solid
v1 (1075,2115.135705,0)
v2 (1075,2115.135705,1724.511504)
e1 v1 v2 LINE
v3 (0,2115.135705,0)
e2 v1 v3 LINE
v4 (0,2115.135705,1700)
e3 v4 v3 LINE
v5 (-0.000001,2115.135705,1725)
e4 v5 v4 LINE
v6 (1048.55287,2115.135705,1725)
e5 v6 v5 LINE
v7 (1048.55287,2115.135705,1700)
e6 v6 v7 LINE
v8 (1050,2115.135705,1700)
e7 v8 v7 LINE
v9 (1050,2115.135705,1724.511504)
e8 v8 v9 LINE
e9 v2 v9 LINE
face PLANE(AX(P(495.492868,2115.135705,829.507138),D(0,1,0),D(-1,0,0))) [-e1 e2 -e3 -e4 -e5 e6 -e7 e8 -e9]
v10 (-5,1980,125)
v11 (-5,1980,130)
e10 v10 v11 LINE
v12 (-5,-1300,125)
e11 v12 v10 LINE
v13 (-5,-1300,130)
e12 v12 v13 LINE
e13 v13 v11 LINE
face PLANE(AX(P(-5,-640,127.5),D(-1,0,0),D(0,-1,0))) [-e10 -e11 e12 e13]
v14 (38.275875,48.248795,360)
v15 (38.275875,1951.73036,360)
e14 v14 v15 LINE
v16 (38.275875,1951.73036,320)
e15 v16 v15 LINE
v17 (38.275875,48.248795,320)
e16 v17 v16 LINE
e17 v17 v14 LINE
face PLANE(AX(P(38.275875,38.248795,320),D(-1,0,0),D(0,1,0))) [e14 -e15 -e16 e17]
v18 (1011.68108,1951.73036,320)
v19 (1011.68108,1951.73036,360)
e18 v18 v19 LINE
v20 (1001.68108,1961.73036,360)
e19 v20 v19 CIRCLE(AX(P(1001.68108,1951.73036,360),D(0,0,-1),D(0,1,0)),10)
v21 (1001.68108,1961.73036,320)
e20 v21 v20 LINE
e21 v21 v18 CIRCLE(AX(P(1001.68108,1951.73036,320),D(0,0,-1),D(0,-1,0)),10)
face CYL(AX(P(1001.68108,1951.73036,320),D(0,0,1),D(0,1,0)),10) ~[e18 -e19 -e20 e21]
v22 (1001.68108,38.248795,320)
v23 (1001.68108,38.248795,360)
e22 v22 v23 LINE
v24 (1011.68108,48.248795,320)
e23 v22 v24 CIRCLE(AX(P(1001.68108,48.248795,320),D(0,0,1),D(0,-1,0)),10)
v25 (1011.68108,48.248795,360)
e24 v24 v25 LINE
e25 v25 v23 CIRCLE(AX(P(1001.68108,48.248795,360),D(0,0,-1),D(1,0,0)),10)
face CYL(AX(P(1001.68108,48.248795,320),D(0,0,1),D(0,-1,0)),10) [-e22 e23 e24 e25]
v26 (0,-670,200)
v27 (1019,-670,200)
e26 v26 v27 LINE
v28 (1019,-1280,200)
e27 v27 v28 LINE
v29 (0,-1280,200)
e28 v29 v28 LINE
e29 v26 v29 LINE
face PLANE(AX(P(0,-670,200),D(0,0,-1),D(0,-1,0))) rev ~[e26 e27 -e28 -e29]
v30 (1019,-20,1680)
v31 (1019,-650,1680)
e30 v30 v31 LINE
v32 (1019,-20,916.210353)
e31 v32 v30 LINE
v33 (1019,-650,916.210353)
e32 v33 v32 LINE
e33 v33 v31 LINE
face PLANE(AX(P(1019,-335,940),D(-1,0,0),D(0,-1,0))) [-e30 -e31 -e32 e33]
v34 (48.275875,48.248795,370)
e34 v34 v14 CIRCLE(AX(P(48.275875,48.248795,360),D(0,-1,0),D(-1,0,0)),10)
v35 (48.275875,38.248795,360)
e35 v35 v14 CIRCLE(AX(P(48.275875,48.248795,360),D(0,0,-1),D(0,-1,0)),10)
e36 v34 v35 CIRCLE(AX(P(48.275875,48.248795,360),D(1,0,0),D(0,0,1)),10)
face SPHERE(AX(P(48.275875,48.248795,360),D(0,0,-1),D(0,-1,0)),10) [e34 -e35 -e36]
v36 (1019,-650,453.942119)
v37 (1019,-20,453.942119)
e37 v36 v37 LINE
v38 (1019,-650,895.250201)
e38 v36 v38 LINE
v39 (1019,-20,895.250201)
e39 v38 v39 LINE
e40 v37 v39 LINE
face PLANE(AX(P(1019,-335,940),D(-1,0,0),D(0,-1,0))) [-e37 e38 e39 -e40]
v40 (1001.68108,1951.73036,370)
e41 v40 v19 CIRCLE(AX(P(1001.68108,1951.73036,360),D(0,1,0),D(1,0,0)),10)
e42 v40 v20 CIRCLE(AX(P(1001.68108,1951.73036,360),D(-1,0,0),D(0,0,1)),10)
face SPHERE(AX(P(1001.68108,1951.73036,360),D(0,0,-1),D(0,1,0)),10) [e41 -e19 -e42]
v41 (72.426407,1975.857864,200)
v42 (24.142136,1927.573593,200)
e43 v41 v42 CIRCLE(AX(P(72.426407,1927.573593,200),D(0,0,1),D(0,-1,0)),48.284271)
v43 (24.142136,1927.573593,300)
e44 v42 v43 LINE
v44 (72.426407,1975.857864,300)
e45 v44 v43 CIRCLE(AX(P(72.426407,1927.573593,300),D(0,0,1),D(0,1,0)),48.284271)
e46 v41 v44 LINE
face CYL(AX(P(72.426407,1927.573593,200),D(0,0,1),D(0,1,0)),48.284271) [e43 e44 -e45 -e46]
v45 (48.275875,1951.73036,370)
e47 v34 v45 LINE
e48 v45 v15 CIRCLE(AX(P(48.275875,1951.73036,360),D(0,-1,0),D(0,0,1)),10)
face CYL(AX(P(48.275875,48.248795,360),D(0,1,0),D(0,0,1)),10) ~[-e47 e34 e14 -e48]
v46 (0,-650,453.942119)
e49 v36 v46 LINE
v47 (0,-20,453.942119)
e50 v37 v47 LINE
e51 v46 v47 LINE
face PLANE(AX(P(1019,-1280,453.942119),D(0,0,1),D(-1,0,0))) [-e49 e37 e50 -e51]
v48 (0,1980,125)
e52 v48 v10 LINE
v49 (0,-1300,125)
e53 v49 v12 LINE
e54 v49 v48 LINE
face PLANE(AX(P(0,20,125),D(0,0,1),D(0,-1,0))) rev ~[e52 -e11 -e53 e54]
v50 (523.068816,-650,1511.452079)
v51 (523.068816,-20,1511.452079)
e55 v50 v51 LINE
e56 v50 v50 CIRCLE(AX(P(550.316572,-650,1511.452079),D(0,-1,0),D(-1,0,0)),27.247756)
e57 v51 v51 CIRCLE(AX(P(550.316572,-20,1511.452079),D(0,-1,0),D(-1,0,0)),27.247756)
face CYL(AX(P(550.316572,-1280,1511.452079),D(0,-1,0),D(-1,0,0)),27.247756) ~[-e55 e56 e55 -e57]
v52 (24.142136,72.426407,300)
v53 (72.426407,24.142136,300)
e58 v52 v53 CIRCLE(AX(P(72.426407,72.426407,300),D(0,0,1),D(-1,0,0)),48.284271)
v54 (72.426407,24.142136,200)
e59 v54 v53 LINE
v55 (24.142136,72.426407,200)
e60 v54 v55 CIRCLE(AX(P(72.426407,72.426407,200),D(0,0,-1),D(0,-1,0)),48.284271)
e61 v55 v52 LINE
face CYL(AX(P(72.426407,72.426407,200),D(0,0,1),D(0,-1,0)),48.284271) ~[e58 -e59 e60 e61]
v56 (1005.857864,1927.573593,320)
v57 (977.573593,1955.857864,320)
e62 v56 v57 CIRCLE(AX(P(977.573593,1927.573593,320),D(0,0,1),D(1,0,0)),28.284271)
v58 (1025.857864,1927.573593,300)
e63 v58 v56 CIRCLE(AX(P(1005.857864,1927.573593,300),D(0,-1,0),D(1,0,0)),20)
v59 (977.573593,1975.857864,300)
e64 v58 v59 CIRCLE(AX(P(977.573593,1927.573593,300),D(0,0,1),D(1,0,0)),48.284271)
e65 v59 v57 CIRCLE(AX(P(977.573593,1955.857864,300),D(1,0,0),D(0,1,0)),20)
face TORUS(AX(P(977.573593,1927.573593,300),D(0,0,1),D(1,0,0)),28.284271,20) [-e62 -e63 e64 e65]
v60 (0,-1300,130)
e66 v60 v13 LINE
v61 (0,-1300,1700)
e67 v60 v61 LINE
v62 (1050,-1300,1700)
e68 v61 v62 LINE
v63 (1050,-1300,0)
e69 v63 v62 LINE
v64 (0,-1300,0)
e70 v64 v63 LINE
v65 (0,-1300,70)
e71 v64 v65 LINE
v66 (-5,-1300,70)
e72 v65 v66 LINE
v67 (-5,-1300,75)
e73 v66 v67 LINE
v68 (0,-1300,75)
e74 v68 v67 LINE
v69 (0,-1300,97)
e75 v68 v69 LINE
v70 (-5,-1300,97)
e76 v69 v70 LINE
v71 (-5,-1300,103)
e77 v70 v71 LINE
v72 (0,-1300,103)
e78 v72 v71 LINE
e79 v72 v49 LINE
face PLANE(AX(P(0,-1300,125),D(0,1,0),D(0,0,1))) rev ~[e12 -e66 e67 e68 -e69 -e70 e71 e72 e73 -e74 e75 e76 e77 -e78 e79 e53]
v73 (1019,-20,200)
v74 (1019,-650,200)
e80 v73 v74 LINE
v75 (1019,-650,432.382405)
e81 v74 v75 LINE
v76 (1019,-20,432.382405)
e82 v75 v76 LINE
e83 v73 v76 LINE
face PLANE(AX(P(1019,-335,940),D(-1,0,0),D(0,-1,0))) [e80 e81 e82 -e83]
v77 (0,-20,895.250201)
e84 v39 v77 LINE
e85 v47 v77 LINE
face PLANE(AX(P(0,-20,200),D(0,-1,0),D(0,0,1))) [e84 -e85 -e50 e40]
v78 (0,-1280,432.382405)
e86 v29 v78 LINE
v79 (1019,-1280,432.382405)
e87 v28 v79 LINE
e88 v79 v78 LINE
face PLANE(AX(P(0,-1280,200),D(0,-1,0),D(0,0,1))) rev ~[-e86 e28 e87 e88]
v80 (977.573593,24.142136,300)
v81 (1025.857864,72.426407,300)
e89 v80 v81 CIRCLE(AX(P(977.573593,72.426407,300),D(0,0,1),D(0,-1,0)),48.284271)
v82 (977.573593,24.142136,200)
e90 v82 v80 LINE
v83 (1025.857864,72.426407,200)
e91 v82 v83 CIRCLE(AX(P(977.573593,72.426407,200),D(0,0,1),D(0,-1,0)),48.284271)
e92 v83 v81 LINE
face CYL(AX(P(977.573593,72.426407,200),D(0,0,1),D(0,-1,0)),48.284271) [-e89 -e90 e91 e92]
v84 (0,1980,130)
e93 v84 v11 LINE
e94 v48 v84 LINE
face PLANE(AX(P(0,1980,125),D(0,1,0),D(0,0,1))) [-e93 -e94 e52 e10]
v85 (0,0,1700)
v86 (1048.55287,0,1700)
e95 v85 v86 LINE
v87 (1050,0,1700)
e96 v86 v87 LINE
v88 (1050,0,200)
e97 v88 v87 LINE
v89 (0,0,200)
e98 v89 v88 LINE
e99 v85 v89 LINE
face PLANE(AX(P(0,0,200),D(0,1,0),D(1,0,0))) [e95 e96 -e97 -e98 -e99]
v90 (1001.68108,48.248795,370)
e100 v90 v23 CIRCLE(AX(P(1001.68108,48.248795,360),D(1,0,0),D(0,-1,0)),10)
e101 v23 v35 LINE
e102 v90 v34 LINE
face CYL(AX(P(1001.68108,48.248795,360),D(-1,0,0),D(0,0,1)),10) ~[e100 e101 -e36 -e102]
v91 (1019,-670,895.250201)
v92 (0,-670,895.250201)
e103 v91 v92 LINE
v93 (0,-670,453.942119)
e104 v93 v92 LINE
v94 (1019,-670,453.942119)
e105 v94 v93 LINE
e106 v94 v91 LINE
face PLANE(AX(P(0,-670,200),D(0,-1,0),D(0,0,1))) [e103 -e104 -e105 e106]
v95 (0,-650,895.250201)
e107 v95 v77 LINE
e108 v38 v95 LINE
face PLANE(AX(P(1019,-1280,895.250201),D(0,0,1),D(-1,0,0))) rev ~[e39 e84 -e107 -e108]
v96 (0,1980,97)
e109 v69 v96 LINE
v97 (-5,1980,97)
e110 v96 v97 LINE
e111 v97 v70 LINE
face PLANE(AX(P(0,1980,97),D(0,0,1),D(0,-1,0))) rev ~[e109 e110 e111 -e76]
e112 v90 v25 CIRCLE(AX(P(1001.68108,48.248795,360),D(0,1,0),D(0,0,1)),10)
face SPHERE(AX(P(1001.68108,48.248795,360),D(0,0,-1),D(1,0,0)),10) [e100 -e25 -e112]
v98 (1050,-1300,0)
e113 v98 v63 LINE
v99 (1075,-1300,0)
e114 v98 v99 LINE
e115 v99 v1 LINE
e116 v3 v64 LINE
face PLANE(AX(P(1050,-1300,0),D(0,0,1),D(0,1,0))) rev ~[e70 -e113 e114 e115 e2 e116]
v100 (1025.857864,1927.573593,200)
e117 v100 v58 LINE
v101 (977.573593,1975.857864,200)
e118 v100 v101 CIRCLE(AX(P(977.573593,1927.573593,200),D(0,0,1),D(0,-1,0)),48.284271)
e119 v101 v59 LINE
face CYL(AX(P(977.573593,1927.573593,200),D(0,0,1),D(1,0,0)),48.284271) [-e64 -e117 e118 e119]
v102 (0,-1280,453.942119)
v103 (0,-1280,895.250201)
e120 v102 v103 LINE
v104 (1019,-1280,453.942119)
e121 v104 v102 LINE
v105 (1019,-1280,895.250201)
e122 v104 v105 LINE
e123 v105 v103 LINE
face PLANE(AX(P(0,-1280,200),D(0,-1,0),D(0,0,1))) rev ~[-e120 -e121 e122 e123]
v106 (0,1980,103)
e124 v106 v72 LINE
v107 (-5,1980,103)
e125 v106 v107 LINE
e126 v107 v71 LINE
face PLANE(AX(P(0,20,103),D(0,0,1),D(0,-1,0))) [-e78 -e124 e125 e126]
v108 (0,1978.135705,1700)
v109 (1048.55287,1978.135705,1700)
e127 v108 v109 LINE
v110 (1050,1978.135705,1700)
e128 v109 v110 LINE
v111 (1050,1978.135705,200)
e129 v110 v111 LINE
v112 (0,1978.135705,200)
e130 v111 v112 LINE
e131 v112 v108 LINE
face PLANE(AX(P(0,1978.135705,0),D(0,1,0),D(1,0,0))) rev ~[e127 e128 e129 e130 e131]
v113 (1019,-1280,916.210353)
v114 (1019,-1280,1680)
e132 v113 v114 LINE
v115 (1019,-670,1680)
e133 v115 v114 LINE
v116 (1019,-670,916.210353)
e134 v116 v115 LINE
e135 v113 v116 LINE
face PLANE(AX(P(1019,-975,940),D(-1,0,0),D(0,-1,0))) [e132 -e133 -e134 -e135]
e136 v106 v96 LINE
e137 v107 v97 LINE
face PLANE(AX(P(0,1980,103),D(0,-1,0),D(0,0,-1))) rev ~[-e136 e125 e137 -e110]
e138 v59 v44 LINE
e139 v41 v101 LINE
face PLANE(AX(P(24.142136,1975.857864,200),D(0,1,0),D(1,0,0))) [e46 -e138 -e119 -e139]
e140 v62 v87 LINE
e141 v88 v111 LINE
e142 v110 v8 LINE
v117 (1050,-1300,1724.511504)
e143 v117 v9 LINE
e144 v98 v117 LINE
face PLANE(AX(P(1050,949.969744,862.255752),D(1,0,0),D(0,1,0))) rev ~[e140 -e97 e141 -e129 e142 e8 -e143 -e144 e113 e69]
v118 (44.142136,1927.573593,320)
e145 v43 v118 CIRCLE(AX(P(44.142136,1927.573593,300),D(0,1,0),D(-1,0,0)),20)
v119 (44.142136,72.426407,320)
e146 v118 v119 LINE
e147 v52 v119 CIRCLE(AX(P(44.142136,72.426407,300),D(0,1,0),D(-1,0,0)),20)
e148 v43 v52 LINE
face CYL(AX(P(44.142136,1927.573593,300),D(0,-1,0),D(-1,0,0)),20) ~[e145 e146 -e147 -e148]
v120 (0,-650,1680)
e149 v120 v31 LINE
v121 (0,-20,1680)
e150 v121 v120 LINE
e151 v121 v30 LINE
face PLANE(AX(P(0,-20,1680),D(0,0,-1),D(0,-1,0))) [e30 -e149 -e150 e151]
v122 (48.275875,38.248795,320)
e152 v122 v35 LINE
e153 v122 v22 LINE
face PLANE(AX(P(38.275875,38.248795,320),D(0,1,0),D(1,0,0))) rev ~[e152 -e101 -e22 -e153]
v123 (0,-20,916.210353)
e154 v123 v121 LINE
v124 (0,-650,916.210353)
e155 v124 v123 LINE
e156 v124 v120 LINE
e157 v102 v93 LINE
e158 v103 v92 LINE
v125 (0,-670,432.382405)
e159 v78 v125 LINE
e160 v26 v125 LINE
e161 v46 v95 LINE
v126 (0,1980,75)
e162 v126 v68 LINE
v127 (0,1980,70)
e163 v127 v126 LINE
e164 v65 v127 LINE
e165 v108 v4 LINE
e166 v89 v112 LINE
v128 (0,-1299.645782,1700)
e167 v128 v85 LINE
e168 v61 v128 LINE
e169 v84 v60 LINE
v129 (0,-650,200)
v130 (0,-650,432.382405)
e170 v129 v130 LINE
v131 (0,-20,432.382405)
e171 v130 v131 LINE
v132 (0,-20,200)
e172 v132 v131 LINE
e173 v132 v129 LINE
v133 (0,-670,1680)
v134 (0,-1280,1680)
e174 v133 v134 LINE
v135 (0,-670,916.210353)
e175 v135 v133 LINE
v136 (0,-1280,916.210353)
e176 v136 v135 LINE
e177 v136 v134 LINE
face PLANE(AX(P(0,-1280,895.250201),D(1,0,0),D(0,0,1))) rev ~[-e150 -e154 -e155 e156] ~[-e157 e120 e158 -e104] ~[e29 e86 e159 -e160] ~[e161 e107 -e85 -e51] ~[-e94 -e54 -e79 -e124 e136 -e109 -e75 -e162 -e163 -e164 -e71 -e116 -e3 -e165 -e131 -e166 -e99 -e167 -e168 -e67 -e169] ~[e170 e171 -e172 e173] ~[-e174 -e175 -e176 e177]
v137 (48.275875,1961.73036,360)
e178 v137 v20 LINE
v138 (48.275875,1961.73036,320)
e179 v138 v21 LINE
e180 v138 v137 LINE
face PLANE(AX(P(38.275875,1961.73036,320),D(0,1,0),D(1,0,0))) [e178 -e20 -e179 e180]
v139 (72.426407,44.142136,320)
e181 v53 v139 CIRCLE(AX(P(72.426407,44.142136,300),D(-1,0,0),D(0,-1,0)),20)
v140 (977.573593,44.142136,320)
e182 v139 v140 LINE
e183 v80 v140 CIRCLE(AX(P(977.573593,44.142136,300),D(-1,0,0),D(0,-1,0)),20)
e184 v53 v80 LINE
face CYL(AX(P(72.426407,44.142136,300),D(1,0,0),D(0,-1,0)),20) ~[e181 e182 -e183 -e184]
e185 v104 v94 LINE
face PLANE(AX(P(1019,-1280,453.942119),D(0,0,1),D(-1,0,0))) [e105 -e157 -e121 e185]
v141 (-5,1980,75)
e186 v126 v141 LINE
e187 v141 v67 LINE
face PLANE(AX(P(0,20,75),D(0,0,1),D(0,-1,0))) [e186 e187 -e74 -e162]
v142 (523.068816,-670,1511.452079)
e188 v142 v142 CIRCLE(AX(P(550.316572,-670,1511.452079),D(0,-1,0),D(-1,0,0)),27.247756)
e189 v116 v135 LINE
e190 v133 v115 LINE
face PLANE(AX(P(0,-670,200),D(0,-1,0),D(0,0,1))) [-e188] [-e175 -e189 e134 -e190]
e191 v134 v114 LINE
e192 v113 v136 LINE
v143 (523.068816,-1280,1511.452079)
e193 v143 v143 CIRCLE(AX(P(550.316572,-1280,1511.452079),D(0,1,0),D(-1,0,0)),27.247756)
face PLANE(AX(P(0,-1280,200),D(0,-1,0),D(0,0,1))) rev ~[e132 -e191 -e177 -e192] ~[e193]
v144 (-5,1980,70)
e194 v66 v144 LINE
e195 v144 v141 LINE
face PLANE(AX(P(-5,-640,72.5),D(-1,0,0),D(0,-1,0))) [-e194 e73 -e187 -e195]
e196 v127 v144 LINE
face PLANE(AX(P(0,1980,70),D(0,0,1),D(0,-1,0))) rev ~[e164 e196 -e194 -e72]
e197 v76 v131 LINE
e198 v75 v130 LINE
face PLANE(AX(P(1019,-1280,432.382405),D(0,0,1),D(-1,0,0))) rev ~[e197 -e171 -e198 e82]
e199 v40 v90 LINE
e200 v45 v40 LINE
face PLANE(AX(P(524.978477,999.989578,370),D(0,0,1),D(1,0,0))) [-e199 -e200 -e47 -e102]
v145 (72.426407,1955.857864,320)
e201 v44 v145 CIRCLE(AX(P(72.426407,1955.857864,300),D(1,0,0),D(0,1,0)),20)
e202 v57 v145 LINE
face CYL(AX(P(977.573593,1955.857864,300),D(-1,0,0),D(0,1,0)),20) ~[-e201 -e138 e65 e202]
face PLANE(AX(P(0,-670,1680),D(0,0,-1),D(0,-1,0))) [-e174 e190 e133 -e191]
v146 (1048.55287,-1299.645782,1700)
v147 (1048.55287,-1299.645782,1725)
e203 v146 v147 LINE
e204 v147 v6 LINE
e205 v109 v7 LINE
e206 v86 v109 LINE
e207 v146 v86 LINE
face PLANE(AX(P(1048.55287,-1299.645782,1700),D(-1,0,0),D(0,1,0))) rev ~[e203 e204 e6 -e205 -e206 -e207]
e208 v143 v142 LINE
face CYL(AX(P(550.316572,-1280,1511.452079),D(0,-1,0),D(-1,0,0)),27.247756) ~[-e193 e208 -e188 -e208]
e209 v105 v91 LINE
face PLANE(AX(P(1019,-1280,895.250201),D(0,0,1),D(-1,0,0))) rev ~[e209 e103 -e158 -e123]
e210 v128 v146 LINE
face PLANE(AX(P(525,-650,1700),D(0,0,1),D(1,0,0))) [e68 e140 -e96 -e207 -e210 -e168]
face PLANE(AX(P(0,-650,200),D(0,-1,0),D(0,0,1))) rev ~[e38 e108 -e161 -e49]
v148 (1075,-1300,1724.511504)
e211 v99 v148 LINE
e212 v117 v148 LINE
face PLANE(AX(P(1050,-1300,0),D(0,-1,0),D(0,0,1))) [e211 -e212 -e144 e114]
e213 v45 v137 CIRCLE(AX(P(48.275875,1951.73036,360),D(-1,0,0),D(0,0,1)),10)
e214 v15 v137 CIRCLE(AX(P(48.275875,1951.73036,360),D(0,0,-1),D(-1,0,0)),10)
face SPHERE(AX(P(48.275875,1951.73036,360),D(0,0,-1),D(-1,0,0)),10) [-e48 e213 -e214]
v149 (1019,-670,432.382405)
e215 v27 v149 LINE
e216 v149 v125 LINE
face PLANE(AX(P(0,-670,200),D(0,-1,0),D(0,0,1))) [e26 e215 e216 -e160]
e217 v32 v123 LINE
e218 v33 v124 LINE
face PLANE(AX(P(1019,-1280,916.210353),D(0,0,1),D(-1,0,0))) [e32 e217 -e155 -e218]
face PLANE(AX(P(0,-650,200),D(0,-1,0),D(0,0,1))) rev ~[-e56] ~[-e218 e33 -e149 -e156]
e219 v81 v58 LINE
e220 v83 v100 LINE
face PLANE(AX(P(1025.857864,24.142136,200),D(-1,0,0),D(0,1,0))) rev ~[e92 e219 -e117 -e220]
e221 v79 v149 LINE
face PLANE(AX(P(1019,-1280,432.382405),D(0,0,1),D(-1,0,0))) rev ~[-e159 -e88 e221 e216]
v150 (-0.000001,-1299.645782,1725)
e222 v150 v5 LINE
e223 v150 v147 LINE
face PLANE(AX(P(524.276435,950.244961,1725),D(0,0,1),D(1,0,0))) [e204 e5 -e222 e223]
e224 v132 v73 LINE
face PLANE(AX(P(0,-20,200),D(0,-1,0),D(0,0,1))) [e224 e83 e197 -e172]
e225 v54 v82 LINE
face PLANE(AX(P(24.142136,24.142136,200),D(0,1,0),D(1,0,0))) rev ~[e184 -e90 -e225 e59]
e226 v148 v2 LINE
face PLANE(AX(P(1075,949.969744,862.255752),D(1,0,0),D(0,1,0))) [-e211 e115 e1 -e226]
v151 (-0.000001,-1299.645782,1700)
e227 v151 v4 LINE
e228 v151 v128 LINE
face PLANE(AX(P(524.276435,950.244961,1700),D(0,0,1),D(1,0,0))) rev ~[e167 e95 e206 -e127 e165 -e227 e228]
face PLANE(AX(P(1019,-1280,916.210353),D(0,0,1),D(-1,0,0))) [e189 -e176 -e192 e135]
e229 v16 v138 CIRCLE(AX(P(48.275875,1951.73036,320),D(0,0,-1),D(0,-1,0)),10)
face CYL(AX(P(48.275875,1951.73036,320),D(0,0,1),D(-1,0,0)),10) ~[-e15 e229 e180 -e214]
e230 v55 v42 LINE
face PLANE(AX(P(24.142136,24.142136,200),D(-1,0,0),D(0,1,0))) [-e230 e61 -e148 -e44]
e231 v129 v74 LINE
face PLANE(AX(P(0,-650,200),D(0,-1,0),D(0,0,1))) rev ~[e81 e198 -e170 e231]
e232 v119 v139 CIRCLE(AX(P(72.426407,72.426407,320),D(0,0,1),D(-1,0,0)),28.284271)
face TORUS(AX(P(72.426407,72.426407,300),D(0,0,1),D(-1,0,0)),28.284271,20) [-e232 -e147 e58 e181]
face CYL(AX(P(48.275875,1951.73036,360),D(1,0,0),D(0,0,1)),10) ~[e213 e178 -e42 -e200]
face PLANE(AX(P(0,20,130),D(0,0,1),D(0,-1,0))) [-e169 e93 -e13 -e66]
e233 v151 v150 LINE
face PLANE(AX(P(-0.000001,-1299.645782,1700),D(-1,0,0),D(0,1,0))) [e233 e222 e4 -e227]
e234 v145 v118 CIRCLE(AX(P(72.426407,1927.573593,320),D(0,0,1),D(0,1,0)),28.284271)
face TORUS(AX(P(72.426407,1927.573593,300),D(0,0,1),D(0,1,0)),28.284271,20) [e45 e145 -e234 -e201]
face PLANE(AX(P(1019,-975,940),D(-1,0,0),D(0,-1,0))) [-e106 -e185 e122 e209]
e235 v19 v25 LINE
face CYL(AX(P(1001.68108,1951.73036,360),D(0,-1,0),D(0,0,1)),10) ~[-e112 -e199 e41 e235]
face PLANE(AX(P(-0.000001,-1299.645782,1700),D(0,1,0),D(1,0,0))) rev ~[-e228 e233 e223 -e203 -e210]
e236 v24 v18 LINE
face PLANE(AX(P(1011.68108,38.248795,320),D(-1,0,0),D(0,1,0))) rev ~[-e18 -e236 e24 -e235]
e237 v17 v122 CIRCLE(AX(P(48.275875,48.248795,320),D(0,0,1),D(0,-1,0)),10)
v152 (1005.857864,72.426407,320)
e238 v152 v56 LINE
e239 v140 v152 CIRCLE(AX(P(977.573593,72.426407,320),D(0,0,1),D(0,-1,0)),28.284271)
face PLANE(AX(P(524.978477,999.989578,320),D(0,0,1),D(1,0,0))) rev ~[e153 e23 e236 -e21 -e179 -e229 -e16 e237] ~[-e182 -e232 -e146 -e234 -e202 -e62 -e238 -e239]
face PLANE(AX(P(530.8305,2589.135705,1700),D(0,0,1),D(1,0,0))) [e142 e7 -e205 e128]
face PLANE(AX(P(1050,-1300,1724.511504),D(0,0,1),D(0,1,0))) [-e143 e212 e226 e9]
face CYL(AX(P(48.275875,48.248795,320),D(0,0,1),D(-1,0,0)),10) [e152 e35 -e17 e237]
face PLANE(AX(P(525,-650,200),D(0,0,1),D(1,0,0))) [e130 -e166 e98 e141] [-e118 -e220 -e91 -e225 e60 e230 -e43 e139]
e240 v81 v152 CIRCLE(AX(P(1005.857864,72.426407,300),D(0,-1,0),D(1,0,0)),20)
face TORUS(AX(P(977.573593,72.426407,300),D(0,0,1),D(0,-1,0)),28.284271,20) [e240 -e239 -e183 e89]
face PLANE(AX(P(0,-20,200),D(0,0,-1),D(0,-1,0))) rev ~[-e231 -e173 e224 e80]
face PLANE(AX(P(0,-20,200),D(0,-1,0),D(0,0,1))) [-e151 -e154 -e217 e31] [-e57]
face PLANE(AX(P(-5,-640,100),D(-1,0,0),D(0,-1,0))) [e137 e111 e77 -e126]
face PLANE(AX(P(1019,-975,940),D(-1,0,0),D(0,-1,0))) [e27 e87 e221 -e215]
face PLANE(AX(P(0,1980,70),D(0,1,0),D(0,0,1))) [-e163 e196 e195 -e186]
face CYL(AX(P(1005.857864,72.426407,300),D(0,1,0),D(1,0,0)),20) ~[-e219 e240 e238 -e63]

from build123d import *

# Parameters (mm, degrees)
F0_W      = 1050
F0_H      = 2000
F1_DEPTH  = 200
F2_SIZE   = 20
F3_W      = 1001.715728
F3_H      = 1951.715728
F4_DEPTH  = 120
F5_R      = 48.284271
F6_R      = 20
F7_W      = 973.405205
F7_H      = 1923.481565
F8_DEPTH  = 50
F9_R      = 10
F10_R     = 10
F11_W     = 1960
F11_H     = 5
F11_H_2   = 3
F12_DEPTH = 5
F13_W     = 1050
F13_H     = 1300
F14_DEPTH = 200
F15_W     = 1050
F15_H     = 1300
F16_DEPTH = 1500
F17_W     = 610
F17_H     = 1480
F17_W_2   = 630
F18_DEPTH = 1019
F19_W     = 1320
F19_H     = 5
F19_H_2   = 6
F20_DEPTH = 5
F21_W     = 1061.661
F21_H     = 1222
F22_DEPTH = 1700
F23_W     = 35.6673
F23_H     = 1700
F23_W_2   = 39.648295
F24_DEPTH = 95
F25_R     = 17.675131
F25_R_2   = 26.491418
F25_R_3   = 28.49172
F25_R_4   = 25.461441
F25_R_5   = 22.122268
F25_R_6   = 26.790347
F25_R_7   = 26.844984
F25_R_8   = 29.855992
F25_R_9   = 34.523428
F25_R_10  = 18.483208
F25_R_11  = 24.436563
F25_R_12  = 26.49164
F25_R_13  = 18.371691
F25_R_14  = 19.135028
F25_R_15  = 20
F26_DEPTH = 365
F27_W     = 1048.552871
F27_H     = 4499.781487
F28_DEPTH = 25
F29_W     = 4499.939489
F29_H     = 1724.511504
F30_DEPTH = 25
F31_W     = 1255.993739
F31_H     = 1847.933241
F32_DEPTH = 1180
F33_R     = 27.247756
F34_DEPTH = 1280
F35_W     = 1019
F35_H     = 21.559715
F36_DEPTH = 1272
F37_W     = 1019
F37_H     = 20.960152
F38_DEPTH = 1280


with BuildPart() as f1:
    # F0 (on Top) → F1 (new body)
    with BuildSketch(Plane.XY):
        with Locations((525, 1000)):
            Rectangle(F0_W, F0_H)
    extrude(amount=F1_DEPTH)

    # F2
    f2_edges = [f1.edges().sort_by_distance(p)[0] for p in [
        (1050, 2000, 100),
        (0, 2000, 100),
    ]]
    chamfer(f2_edges, length=F2_SIZE)

    # F3 (on face) → F4 (join)
    with BuildSketch(Plane.XY.offset(200)):
        with Locations((525, 1000)):
            Rectangle(F3_W, F3_H)
    extrude(amount=F4_DEPTH)

    # F5
    f5_edges = [f1.edges().sort_by_distance(p)[0] for p in [
        (1025.857864, 24.142136, 260),
        (1025.857864, 1975.857864, 260),
        (24.142136, 1975.857864, 260),
        (24.142136, 24.142136, 260),
    ]]
    fillet(f5_edges, radius=F5_R)

    # F6
    f6_edges = [f1.edges().sort_by_distance(p)[0] for p in [
        (525, 24.142136, 320),
        (38.284271, 38.284271, 320),
        (1011.715729, 38.284271, 320),
        (24.142136, 1000, 320),
        (1025.857864, 1000, 320),
        (38.284271, 1961.715729, 320),
        (1011.715729, 1961.715729, 320),
        (525, 1975.857864, 320),
    ]]
    fillet(f6_edges, radius=F6_R)

    # F7 (on face) → F8 (join)
    with BuildSketch(Plane.XY.offset(320)):
        with Locations((524.978477, 999.989578)):
            Rectangle(F7_W, F7_H)
    extrude(amount=F8_DEPTH)

    # F9
    f9_edges = [f1.edges().sort_by_distance(p)[0] for p in [
        (1011.68108, 38.248796, 345),
        (1011.68108, 1961.730361, 345),
        (38.275875, 1961.730361, 345),
        (38.275875, 38.248796, 345),
    ]]
    fillet(f9_edges, radius=F9_R)

    # F10
    f10_edges = [f1.edges().sort_by_distance(p)[0] for p in [
        (524.978478, 1961.730361, 370),
        (1008.752148, 1958.801429, 370),
        (41.204807, 1958.801429, 370),
        (1011.68108, 999.989579, 370),
        (38.275875, 999.989579, 370),
        (1008.752148, 41.177728, 370),
        (41.204807, 41.177728, 370),
        (524.978478, 38.248796, 370),
    ]]
    fillet(f10_edges, radius=F10_R)

    # F11 (on face) → F12 (join)
    with BuildSketch(Plane(origin=(0, 0, 0), x_dir=(0, -1, 0), z_dir=(-1, 0, 0))):
        with Locations((-1000, 72.5)):
            Rectangle(F11_W, F11_H)
        with Locations((-1000, 127.5)):
            Rectangle(F11_W, F11_H)
        with Locations((-1000, 98.5)):
            Rectangle(F11_W, F11_H_2)
        with Locations((-1000, 101.5)):
            Rectangle(F11_W, F11_H_2)
    extrude(amount=F12_DEPTH)

    # F13 (on Top) → F14 (join)
    with BuildSketch(Plane.XY):
        with Locations((525, -650)):
            Rectangle(F13_W, F13_H)
    extrude(amount=F14_DEPTH)

    # F15 (on face) → F16 (join)
    with BuildSketch(Plane.XY.offset(200)):
        with Locations((525, -650)):
            Rectangle(F15_W, F15_H)
    extrude(amount=F16_DEPTH)

    # F17 (on face) → F18 (cut)
    with BuildSketch(Plane(origin=(0, 0, 0), x_dir=(0, -1, 0), z_dir=(-1, 0, 0))):
        with Locations((975, 940)):
            Rectangle(F17_W, F17_H)
        with Locations((335, 940)):
            Rectangle(F17_W_2, F17_H)
    extrude(amount=-F18_DEPTH, mode=Mode.SUBTRACT)

    # F19 (on face) → F20 (join)
    with BuildSketch(Plane(origin=(0, 0, 0), x_dir=(0, -1, 0), z_dir=(-1, 0, 0))):
        with Locations((640, 127.5)):
            Rectangle(F19_W, F19_H)
        with Locations((640, 100)):
            Rectangle(F19_W, F19_H_2)
        with Locations((640, 72.5)):
            Rectangle(F19_W, F19_H)
    extrude(amount=F20_DEPTH)

    # F21 (on Top) → F22 (join)
    with BuildSketch(Plane.XY):
        with Locations((530.8305, 2589.135705)):
            Rectangle(F21_W, F21_H)
    extrude(amount=F22_DEPTH)

    # F23 (on face) → F24 (join)
    with BuildSketch(Plane(origin=(0, 3200.135705, 0), x_dir=(-1, 0, 0), z_dir=(0, 1, 0))):
        with Locations((-305.102706, 850)):
            Rectangle(F23_W, F23_H)
        with Locations((-695.655286, 850)):
            Rectangle(F23_W_2, F23_H)
    extrude(amount=F24_DEPTH)

    # F25 (on face) → F26 (join)
    with BuildSketch(Plane(origin=(675.831139, 0, 0), x_dir=(0, -1, 0), z_dir=(-1, 0, 0))):
        with Locations((-3252.88574, 135.192228)):
            Circle(F25_R)
        with Locations((-3254.491696, 222.675777)):
            Circle(F25_R_2)
        with Locations((-3248.258108, 335.374969)):
            Circle(F25_R_3)
        with Locations((-3249.734309, 494.146231)):
            Circle(F25_R_4)
        with Locations((-3252.811319, 419.299844)):
            Circle(F25_R_5)
        with Locations((-3253.401542, 580.157127)):
            Circle(F25_R_6)
        with Locations((-3251.752263, 678.684019)):
            Circle(F25_R_7)
        with Locations((-3255.381964, 785.062628)):
            Circle(F25_R_8)
        with Locations((-3254.409769, 915.7977)):
            Circle(F25_R_9)
        with Locations((-3239.505991, 1025.246616)):
            Circle(F25_R_10)
        with Locations((-3245.394067, 1183.771719)):
            Circle(F25_R_11)
        with Locations((-3251.762343, 1320.886005)):
            Circle(F25_R_12)
        with Locations((-3255.527804, 1433.706561)):
            Circle(F25_R_13)
        with Locations((-3246.574513, 1505.486339)):
            Circle(F25_R_14)
        with Locations((-3261.742305, 1574.563252)):
            Circle(F25_R_15)
    extrude(amount=F26_DEPTH)

    # F27 (on face) → F28 (join)
    with BuildSketch(Plane.XY.offset(1700)):
        with Locations((524.276435, 950.244961)):
            Rectangle(F27_W, F27_H)
    extrude(amount=F28_DEPTH)

    # F29 (on face) → F30 (join)
    with BuildSketch(Plane.YZ.offset(1050)):
        with Locations((949.969744, 862.255752)):
            Rectangle(F29_W, F29_H)
    extrude(amount=F30_DEPTH)

    # F31 (on face) → F32 (cut)
    with BuildSketch(Plane(origin=(0, 3295.135705, 0), x_dir=(-1, 0, 0), z_dir=(0, 1, 0))):
        with Locations((-495.492868, 829.507138)):
            Rectangle(F31_W, F31_H)
    extrude(amount=-F32_DEPTH, mode=Mode.SUBTRACT)

    # F33 (on face) → F34 (join)
    with BuildSketch(Plane(origin=(0, -1280, 0), x_dir=(-1, 0, 0), z_dir=(0, 1, 0))):
        with Locations((-550.316572, 1511.452079)):
            Circle(F33_R)
    extrude(amount=F34_DEPTH)

    # F35 (on face) → F36 (join)
    with BuildSketch(Plane(origin=(0, -1280, 0), x_dir=(-1, 0, 0), z_dir=(0, 1, 0))):
        with Locations((-509.5, 443.162262)):
            Rectangle(F35_W, F35_H)
    extrude(amount=F36_DEPTH)

    # F37 (on face) → F38 (join)
    with BuildSketch(Plane(origin=(0, -1280, 0), x_dir=(-1, 0, 0), z_dir=(0, 1, 0))):
        with Locations((-509.5, 905.730277)):
            Rectangle(F37_W, F37_H)
    extrude(amount=F38_DEPTH)


solid = f1.part
